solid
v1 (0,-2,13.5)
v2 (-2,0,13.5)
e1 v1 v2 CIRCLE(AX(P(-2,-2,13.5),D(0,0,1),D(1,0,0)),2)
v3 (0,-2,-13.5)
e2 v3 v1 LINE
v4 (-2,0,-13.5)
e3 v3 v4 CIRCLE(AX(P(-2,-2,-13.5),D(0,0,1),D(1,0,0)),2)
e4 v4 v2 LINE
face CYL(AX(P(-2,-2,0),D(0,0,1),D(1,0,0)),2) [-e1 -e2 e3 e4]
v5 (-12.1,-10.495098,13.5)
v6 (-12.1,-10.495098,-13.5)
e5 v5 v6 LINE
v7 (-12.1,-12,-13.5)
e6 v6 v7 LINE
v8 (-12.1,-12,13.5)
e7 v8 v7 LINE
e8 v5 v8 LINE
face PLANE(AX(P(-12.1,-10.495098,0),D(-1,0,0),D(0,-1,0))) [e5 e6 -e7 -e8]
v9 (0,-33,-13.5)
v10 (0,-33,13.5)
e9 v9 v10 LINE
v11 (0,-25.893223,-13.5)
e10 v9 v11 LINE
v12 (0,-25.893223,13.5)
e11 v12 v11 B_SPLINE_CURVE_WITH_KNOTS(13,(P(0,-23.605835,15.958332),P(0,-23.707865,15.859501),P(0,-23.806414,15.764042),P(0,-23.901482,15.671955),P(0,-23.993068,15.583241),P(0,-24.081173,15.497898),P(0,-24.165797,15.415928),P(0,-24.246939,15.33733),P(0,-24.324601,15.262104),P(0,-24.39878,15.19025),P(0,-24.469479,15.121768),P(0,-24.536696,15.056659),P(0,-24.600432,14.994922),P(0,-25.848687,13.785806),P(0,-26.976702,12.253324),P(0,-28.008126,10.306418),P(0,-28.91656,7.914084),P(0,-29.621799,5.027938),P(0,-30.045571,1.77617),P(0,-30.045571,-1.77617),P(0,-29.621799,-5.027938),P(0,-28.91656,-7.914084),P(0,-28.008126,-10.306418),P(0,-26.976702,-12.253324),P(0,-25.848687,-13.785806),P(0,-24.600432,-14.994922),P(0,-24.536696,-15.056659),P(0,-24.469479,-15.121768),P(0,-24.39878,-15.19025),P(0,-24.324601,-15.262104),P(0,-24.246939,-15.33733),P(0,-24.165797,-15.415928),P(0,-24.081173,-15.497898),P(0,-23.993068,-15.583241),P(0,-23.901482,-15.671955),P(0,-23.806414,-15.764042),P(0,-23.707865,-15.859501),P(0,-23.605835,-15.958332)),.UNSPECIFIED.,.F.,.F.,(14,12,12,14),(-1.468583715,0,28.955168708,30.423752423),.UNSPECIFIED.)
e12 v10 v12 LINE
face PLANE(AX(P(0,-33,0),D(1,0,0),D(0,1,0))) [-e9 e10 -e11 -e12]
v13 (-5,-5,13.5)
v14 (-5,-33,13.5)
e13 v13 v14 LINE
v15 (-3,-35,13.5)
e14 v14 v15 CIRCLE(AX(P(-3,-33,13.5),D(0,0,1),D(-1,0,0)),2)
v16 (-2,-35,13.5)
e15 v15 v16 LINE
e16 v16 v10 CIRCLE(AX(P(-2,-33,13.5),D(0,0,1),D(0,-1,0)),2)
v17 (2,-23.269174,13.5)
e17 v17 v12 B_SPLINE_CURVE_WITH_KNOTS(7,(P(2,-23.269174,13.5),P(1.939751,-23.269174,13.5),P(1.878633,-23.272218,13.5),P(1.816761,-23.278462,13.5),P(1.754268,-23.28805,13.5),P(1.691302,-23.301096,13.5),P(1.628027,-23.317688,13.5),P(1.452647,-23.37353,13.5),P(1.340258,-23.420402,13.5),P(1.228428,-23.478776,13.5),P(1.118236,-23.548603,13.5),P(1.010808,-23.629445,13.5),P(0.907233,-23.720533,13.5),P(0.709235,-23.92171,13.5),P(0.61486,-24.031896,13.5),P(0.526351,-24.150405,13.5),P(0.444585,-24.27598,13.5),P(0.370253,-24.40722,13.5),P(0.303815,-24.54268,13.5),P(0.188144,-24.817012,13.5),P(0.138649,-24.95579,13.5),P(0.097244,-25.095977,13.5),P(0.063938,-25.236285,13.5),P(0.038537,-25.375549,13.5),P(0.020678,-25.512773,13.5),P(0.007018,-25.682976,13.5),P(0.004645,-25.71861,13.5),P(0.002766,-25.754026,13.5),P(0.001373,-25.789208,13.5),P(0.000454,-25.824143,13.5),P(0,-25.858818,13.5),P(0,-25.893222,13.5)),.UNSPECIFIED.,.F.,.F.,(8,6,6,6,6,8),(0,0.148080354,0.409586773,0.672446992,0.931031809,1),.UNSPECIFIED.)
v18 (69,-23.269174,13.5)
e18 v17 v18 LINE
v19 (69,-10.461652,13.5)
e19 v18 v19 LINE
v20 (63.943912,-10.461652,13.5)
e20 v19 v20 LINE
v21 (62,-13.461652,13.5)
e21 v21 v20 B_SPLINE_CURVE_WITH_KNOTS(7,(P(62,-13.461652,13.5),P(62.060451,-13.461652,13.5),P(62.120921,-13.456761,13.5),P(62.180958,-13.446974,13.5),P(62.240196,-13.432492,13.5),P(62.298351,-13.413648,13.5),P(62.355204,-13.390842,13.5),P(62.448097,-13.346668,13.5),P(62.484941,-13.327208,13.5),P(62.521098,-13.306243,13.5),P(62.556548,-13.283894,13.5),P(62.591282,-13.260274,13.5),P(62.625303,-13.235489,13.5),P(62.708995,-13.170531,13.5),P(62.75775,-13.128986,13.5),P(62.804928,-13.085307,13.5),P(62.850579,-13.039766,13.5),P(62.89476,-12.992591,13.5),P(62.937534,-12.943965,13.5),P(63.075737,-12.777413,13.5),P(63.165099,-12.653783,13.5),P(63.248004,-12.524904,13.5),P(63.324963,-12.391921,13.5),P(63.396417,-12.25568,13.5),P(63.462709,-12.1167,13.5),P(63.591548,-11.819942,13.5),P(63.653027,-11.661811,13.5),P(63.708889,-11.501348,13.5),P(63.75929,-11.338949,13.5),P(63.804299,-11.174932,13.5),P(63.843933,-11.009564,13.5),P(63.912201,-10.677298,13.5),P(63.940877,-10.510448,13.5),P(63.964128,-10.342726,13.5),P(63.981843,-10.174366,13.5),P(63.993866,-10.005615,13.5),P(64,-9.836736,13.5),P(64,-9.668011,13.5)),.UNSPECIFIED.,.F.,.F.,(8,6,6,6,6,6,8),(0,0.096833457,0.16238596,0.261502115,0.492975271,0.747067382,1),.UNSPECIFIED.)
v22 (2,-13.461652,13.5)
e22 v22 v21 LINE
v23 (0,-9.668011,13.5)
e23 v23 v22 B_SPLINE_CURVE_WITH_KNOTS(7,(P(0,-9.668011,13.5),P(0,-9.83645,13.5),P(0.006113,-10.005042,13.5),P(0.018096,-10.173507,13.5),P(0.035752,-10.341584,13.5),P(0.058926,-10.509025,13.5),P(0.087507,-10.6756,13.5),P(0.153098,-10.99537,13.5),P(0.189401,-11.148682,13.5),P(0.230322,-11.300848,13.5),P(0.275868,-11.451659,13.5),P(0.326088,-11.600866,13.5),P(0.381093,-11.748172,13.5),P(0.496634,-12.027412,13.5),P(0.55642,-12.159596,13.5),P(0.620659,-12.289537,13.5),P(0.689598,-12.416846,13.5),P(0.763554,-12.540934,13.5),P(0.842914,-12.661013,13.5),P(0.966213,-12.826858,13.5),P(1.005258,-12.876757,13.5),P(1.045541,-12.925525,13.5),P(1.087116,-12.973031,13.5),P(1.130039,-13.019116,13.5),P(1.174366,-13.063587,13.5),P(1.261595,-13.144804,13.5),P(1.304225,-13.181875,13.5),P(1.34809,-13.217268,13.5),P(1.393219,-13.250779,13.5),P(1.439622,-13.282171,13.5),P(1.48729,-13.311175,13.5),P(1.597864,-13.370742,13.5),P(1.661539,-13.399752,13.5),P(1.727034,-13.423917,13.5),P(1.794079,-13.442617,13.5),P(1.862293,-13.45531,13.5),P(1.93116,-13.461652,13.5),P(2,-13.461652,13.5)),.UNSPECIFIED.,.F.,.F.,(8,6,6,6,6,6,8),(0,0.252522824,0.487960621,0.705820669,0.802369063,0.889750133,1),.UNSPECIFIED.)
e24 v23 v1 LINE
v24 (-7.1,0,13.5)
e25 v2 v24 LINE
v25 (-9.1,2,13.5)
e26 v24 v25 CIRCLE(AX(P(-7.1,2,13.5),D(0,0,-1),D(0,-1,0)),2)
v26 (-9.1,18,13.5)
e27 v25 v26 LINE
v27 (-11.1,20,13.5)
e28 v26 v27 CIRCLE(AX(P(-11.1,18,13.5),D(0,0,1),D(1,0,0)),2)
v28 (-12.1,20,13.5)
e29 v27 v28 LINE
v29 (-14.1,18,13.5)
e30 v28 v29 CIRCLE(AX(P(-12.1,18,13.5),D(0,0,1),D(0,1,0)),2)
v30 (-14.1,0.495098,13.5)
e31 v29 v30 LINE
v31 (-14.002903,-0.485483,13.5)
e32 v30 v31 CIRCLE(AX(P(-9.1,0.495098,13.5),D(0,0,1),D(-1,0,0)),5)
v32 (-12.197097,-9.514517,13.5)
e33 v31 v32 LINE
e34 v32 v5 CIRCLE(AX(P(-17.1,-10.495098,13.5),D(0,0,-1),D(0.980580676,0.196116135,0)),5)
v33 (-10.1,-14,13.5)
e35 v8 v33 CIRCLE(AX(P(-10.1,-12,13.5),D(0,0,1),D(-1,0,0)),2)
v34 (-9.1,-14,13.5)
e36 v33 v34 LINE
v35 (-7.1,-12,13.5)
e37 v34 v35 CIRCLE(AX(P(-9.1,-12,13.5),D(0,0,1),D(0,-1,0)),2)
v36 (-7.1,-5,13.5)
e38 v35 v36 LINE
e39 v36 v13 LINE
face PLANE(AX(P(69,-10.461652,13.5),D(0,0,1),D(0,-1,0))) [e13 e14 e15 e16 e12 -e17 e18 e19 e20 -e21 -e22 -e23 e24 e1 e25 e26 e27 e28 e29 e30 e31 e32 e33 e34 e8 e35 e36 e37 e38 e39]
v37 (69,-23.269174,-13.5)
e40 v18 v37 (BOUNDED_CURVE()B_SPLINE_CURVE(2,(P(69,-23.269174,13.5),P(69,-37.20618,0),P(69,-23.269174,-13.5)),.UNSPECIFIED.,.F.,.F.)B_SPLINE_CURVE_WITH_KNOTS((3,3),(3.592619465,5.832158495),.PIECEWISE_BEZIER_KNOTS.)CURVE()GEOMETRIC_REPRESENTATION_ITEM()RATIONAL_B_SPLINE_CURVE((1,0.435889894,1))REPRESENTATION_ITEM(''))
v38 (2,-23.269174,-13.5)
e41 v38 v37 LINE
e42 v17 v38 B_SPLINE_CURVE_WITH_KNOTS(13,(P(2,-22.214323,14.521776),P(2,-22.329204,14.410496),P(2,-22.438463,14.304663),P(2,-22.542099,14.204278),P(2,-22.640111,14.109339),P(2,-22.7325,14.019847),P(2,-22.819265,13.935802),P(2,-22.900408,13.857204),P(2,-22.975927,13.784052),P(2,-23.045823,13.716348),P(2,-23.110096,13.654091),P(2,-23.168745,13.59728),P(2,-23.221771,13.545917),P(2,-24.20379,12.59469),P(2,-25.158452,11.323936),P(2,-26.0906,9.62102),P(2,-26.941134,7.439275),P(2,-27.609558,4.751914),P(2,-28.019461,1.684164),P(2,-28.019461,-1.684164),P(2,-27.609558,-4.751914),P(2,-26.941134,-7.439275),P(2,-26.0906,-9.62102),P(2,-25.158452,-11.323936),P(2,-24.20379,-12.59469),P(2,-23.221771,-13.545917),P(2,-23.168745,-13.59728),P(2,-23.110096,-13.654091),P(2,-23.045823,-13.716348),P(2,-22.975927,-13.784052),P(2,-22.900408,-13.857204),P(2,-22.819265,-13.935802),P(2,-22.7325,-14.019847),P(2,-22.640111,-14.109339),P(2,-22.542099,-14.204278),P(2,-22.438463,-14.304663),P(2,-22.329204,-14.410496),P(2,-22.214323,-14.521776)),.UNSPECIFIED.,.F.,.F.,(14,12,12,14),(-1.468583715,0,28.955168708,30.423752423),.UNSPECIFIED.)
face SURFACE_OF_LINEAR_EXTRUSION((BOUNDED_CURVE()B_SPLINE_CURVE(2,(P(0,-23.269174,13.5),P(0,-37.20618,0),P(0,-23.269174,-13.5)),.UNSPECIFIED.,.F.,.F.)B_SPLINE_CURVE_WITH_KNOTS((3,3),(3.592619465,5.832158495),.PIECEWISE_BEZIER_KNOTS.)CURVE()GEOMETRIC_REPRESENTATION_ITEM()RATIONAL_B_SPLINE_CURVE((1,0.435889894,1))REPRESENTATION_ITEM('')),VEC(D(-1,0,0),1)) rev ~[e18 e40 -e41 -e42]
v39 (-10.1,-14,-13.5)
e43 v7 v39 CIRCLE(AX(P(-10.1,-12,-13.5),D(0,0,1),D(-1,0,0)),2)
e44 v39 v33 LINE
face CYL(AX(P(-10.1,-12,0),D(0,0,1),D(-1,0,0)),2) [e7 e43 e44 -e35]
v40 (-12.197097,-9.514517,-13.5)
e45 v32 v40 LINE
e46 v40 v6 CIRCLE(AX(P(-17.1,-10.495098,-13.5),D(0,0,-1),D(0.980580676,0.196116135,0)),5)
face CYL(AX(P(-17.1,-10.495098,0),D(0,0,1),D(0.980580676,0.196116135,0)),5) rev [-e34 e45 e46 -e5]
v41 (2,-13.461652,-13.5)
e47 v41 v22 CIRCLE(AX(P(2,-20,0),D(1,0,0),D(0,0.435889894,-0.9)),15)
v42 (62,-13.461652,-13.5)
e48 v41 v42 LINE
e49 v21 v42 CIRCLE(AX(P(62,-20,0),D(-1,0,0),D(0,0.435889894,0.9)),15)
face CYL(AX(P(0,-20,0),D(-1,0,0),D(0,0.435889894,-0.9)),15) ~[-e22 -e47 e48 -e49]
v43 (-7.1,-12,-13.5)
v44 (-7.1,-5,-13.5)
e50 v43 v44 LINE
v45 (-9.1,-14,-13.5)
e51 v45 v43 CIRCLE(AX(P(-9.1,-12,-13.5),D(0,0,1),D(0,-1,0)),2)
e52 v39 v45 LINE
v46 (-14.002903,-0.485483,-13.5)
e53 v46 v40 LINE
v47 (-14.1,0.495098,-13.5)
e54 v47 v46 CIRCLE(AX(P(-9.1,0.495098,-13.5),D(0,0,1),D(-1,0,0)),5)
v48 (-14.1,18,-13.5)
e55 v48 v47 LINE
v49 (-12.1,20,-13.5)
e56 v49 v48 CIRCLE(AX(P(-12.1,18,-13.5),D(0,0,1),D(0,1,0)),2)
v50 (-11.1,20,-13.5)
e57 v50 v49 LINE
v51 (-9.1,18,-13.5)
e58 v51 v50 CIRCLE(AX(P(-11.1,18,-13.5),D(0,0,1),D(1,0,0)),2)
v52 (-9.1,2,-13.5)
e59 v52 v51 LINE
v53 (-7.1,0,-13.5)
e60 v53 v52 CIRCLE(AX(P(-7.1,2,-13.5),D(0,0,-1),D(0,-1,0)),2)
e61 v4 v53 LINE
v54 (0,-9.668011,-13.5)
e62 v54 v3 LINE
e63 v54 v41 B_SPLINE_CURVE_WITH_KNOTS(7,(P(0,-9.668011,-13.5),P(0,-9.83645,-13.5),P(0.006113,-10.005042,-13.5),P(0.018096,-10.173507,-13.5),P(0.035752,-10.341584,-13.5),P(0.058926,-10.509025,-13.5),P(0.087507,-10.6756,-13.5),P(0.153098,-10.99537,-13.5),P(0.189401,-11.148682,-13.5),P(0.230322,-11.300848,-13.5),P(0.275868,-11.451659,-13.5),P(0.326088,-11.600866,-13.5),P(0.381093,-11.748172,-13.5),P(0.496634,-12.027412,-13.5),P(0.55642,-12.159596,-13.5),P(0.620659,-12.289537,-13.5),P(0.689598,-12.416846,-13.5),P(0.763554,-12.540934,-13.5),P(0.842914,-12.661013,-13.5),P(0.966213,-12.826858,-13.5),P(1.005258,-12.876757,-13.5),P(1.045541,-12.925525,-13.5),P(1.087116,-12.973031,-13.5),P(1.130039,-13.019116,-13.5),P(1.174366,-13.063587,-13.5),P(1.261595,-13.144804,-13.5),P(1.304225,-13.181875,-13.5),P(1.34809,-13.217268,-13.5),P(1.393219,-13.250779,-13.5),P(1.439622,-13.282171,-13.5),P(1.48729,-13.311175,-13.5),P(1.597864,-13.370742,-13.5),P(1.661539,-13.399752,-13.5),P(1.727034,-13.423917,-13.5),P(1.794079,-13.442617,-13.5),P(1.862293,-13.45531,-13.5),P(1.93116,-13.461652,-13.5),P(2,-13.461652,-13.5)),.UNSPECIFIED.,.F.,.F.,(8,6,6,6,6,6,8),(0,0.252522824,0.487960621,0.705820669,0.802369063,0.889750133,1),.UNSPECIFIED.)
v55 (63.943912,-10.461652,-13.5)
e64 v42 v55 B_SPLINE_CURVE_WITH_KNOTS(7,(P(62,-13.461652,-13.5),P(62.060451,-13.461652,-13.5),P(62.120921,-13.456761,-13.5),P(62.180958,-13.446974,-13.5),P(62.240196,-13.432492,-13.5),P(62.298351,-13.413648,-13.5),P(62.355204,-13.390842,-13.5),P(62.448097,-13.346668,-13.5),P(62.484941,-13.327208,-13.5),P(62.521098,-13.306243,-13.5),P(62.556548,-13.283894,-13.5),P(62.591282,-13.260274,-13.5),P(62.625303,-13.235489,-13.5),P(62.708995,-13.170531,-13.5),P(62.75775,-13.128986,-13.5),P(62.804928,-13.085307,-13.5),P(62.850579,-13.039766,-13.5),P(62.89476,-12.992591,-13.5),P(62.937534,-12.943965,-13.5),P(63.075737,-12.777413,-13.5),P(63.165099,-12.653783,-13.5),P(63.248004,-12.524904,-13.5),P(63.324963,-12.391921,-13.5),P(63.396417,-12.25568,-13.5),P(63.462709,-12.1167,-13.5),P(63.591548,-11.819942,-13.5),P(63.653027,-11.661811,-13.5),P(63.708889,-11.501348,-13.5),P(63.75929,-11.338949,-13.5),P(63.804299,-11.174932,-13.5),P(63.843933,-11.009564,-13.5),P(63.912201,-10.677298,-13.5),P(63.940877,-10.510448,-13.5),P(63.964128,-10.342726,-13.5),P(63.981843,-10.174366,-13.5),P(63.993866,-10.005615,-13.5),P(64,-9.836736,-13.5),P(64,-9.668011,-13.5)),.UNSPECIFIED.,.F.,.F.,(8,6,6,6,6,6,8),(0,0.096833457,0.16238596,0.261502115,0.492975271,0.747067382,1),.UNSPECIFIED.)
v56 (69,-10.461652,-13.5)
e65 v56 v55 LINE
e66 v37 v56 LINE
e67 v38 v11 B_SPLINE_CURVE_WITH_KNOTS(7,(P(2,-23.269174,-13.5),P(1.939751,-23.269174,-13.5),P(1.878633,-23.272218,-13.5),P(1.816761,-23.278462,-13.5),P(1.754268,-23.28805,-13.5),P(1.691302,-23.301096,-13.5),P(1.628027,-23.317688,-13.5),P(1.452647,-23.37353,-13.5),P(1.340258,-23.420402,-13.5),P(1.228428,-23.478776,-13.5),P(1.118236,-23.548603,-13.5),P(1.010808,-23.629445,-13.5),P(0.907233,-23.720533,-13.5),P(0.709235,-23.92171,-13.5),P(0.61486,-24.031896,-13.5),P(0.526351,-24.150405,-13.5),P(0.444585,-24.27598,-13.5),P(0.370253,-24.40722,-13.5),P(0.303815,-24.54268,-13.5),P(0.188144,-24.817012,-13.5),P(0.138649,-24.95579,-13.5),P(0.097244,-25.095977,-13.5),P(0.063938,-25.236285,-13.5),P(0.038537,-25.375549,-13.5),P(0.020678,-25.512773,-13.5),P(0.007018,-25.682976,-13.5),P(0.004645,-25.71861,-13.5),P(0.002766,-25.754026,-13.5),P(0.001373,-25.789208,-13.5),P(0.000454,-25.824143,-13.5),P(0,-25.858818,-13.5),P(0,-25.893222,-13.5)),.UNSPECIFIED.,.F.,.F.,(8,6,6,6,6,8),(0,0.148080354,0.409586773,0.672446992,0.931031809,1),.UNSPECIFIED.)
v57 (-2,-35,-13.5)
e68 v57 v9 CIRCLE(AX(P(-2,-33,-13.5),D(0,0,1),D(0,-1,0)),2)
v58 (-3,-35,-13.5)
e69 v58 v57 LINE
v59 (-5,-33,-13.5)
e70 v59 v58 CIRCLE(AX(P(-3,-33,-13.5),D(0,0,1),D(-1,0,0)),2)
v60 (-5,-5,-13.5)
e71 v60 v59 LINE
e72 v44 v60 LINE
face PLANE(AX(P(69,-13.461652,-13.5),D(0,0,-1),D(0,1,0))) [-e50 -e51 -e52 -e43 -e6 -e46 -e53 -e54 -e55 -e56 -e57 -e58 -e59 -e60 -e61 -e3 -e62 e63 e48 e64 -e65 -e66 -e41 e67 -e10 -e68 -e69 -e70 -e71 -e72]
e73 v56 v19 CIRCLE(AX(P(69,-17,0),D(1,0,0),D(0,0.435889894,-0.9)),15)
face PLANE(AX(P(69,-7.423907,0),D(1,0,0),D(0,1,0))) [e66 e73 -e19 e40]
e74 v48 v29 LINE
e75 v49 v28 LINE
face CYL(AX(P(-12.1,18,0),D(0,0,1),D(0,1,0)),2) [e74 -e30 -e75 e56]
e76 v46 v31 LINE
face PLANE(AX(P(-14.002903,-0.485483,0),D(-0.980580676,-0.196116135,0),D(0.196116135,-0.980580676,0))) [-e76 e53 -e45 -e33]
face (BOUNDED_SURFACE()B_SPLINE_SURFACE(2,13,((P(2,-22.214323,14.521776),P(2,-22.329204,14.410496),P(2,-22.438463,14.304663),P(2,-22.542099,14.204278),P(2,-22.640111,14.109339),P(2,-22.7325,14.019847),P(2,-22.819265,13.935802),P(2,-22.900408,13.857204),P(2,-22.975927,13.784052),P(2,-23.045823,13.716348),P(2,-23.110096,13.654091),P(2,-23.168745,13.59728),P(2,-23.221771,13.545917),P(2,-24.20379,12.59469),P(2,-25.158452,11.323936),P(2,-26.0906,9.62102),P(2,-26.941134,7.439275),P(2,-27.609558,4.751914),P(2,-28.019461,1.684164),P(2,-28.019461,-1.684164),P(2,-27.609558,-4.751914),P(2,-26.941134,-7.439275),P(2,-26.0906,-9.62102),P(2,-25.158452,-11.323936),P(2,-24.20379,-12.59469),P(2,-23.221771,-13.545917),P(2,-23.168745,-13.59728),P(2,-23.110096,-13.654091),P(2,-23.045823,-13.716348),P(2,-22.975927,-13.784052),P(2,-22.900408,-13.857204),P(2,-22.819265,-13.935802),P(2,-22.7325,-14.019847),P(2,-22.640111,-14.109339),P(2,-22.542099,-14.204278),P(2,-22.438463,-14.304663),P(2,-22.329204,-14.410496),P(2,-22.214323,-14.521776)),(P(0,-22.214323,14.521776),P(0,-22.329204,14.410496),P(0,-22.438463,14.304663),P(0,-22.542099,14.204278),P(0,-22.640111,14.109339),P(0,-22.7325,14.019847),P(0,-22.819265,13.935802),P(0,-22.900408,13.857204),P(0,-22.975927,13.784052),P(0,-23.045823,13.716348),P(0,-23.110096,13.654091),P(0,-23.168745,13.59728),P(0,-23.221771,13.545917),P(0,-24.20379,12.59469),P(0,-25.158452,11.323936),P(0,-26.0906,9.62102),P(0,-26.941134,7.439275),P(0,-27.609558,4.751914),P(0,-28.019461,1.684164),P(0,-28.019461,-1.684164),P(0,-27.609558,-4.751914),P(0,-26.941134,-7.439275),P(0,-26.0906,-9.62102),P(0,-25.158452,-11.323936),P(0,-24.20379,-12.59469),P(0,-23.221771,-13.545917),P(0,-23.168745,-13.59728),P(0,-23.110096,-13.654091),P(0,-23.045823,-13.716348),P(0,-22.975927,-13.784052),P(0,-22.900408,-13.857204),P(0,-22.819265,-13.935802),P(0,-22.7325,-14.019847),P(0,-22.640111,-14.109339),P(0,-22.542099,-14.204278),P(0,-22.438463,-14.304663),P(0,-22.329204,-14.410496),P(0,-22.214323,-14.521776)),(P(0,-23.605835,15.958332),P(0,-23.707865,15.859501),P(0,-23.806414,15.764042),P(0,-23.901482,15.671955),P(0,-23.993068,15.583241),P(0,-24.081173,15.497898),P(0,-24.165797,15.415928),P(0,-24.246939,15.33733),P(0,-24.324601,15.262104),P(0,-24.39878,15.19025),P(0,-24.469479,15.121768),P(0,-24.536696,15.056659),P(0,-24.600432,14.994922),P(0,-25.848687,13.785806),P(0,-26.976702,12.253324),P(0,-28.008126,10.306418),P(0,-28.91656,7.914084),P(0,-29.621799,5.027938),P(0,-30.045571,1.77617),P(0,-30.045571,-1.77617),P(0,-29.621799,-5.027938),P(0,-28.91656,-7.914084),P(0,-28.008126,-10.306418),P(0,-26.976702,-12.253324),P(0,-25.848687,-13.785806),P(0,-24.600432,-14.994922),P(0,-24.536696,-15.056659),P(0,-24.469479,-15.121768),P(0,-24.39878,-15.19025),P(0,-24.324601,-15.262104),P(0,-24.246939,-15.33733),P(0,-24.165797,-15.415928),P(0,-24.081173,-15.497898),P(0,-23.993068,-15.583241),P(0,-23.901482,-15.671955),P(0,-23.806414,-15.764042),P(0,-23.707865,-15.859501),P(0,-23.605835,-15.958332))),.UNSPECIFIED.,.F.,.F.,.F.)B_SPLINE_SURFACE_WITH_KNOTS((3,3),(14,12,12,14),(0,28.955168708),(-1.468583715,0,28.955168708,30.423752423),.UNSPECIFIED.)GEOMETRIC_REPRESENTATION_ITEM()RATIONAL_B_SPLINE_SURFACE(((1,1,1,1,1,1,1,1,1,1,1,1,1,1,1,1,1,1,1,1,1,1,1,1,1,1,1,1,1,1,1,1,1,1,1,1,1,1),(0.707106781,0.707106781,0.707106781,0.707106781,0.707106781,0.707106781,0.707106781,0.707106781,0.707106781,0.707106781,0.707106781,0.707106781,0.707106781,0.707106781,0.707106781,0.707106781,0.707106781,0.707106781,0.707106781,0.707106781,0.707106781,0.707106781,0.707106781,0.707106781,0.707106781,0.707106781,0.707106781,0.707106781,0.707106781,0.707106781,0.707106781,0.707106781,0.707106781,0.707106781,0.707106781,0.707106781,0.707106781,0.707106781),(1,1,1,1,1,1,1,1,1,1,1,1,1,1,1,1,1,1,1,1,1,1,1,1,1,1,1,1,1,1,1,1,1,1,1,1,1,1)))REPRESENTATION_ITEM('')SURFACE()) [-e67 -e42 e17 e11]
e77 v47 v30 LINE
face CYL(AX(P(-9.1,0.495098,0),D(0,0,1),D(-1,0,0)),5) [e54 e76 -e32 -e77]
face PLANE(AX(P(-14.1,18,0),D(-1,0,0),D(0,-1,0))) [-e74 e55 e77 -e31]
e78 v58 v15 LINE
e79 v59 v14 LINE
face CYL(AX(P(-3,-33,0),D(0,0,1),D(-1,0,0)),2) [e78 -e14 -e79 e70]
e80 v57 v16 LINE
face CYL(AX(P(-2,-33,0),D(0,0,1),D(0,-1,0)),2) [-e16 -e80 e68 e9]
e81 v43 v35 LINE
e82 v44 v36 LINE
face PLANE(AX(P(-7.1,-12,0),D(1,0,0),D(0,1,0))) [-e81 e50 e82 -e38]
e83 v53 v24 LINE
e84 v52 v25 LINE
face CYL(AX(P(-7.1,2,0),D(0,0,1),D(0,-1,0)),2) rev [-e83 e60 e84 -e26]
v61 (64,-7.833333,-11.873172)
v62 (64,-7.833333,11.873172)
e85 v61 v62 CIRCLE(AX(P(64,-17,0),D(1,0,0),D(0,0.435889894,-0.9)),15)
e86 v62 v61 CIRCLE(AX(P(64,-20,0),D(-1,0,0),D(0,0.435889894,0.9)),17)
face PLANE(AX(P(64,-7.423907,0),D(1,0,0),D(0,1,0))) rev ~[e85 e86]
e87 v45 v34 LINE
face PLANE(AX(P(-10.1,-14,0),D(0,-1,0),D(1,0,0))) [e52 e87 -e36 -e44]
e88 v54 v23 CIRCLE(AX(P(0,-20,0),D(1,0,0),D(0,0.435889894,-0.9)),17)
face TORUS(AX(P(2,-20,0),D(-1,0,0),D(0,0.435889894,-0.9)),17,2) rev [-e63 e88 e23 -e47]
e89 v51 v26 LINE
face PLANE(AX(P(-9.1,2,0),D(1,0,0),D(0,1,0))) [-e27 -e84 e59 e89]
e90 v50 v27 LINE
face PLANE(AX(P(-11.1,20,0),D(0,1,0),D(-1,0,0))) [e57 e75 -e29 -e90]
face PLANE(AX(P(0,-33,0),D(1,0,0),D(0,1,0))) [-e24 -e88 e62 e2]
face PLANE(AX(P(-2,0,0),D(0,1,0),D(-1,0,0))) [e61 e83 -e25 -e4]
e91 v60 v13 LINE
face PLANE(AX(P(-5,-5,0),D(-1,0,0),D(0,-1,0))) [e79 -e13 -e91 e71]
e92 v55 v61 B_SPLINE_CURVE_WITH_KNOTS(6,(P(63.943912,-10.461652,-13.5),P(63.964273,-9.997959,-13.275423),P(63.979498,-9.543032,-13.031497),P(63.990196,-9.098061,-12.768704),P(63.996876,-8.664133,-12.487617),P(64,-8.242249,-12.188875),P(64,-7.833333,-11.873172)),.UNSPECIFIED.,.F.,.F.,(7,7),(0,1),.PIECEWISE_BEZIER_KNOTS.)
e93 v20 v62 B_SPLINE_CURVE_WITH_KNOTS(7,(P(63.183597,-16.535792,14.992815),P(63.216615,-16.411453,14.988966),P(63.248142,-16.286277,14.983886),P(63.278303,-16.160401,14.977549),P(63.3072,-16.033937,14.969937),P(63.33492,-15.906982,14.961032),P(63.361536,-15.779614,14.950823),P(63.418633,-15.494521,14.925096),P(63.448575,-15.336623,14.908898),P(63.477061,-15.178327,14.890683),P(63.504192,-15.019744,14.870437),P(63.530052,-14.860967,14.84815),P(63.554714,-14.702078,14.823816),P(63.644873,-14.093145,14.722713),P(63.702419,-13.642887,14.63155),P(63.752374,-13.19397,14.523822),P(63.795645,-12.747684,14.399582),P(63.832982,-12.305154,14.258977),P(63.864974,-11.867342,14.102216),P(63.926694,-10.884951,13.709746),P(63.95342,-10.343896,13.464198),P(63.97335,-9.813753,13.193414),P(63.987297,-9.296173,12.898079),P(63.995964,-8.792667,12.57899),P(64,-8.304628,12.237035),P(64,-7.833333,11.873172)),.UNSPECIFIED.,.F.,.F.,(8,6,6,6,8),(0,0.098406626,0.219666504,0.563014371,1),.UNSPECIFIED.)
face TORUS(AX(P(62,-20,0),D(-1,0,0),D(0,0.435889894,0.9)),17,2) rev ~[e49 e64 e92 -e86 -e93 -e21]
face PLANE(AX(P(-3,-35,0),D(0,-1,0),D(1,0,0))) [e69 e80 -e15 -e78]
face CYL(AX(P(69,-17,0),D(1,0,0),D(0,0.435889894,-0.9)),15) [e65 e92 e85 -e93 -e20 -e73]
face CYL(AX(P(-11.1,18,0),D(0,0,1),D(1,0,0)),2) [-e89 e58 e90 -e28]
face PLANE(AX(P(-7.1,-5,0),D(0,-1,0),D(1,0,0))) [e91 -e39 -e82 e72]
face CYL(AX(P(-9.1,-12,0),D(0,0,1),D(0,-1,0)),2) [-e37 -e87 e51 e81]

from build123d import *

# Parameters (mm, degrees)
F3_DEPTH = 13.5
F5_DEPTH = 69
F7_DEPTH = 5
F8_R     = 2


with BuildPart() as f3:
    # F2 (on Top) → F3 (new body, symmetric)
    with BuildSketch(Plane.XY):
        with BuildLine():
            ThreePointArc((-12.1, -12), (-11.5142135624, -13.4142135624), (-10.1, -14))
            Line((-10.1, -14), (-9.1, -14))
            ThreePointArc((-9.1, -14), (-7.6857864376, -13.4142135624), (-7.1, -12))
            Line((-7.1, -12), (-7.1, -5))
            Line((-7.1, -5), (-5, -5))
            Line((-5, -5), (-5, -33))
            ThreePointArc((-5, -33), (-4.4142135624, -34.4142135624), (-3, -35))
            Line((-3, -35), (-2, -35))
            ThreePointArc((-2, -35), (-0.5857864376, -34.4142135624), (0, -33))
            Line((0, -33), (0, -2))
            ThreePointArc((0, -2), (-0.5857864376, -0.5857864376), (-2, 0))
            Line((-2, 0), (-7.1, 0))
            ThreePointArc((-7.1, 0), (-8.5142135624, 0.5857864376), (-9.1, 2))
            Line((-9.1, 2), (-9.1, 18))
            ThreePointArc((-9.1, 18), (-9.6857864376, 19.4142135624), (-11.1, 20))
            Line((-11.1, 20), (-12.1, 20))
            ThreePointArc((-12.1, 20), (-13.5142135624, 19.4142135624), (-14.1, 18))
            Line((-14.1, 18), (-14.1, 0.495097568))
            ThreePointArc((-14.1, 0.495097568), (-14.0756666333, 0.0024094781), (-14.0029033785, -0.4854831077))
            Line((-14.0029033785, -0.4854831077), (-12.1970966215, -9.5145168923))
            ThreePointArc((-12.1970966215, -9.5145168923), (-12.1243333667, -10.0024094781), (-12.1, -10.495097568))
            Line((-12.1, -10.495097568), (-12.1, -12))
        make_face()
    extrude(amount=F3_DEPTH, both=True)

    # F4 (on face) → F5 (join)
    with BuildSketch(Plane.YZ):
        with BuildLine():
            Line((-23.2691742077, -13.5), (-16.7308257923, -13.5))
            add(Edge.make_bspline(
                [(-16.7308257923, -13.5), (-2.7938199597, 0), (-16.7308257923, 13.5)],
                knots=[0.4510268118, 0.4510268118, 0.4510268118, 2.6905658418, 2.6905658418, 2.6905658418], degree=2, weights=[1, 0.4358898944, 1]))
            Line((-16.7308257923, 13.5), (-23.2691742077, 13.5))
            add(Edge.make_bspline(
                [(-23.2691742077, 13.5), (-37.2061800403, 0), (-23.2691742077, -13.5)],
                knots=[3.5926194654, 3.5926194654, 3.5926194654, 5.8321584954, 5.8321584954, 5.8321584954], degree=2, weights=[1, 0.4358898944, 1]))
        make_face()
        with BuildLine():
            Line((-16.7308257923, -13.5), (-13.4616515847, -13.5))
            ThreePointArc((-13.4616515847, -13.5), (-5, 0), (-13.4616515847, 13.5))
            Line((-13.4616515847, 13.5), (-16.7308257923, 13.5))
            add(Edge.make_bspline(
                [(-16.7308257923, -13.5), (-2.7938199597, 0), (-16.7308257923, 13.5)],
                knots=[0.4510268118, 0.4510268118, 0.4510268118, 2.6905658418, 2.6905658418, 2.6905658418], degree=2, weights=[1, 0.4358898944, 1]))
        make_face()
    extrude(amount=F5_DEPTH)

    # F6 (on face) → F7 (join)
    with BuildSketch(Plane.YZ.offset(69)):
        with BuildLine():
            Line((-10.4616515847, 13.5), (-13.4616515847, 13.5))
            ThreePointArc((-13.4616515847, 13.5), (-5, 0), (-13.4616515847, -13.5))
            Line((-13.4616515847, -13.5), (-10.4616515847, -13.5))
            ThreePointArc((-10.4616515847, -13.5), (-2, 0), (-10.4616515847, 13.5))
        make_face()
    extrude(amount=-F7_DEPTH)

    # F8
    f8_edges = [f3.edges().sort_by_distance(p)[0] for p in [
        (0, -5, 0),
        (0, -27.5, -0.000816),
        (64, -5, 0),
    ]]
    fillet(f8_edges, radius=F8_R)


solid = f3.part
